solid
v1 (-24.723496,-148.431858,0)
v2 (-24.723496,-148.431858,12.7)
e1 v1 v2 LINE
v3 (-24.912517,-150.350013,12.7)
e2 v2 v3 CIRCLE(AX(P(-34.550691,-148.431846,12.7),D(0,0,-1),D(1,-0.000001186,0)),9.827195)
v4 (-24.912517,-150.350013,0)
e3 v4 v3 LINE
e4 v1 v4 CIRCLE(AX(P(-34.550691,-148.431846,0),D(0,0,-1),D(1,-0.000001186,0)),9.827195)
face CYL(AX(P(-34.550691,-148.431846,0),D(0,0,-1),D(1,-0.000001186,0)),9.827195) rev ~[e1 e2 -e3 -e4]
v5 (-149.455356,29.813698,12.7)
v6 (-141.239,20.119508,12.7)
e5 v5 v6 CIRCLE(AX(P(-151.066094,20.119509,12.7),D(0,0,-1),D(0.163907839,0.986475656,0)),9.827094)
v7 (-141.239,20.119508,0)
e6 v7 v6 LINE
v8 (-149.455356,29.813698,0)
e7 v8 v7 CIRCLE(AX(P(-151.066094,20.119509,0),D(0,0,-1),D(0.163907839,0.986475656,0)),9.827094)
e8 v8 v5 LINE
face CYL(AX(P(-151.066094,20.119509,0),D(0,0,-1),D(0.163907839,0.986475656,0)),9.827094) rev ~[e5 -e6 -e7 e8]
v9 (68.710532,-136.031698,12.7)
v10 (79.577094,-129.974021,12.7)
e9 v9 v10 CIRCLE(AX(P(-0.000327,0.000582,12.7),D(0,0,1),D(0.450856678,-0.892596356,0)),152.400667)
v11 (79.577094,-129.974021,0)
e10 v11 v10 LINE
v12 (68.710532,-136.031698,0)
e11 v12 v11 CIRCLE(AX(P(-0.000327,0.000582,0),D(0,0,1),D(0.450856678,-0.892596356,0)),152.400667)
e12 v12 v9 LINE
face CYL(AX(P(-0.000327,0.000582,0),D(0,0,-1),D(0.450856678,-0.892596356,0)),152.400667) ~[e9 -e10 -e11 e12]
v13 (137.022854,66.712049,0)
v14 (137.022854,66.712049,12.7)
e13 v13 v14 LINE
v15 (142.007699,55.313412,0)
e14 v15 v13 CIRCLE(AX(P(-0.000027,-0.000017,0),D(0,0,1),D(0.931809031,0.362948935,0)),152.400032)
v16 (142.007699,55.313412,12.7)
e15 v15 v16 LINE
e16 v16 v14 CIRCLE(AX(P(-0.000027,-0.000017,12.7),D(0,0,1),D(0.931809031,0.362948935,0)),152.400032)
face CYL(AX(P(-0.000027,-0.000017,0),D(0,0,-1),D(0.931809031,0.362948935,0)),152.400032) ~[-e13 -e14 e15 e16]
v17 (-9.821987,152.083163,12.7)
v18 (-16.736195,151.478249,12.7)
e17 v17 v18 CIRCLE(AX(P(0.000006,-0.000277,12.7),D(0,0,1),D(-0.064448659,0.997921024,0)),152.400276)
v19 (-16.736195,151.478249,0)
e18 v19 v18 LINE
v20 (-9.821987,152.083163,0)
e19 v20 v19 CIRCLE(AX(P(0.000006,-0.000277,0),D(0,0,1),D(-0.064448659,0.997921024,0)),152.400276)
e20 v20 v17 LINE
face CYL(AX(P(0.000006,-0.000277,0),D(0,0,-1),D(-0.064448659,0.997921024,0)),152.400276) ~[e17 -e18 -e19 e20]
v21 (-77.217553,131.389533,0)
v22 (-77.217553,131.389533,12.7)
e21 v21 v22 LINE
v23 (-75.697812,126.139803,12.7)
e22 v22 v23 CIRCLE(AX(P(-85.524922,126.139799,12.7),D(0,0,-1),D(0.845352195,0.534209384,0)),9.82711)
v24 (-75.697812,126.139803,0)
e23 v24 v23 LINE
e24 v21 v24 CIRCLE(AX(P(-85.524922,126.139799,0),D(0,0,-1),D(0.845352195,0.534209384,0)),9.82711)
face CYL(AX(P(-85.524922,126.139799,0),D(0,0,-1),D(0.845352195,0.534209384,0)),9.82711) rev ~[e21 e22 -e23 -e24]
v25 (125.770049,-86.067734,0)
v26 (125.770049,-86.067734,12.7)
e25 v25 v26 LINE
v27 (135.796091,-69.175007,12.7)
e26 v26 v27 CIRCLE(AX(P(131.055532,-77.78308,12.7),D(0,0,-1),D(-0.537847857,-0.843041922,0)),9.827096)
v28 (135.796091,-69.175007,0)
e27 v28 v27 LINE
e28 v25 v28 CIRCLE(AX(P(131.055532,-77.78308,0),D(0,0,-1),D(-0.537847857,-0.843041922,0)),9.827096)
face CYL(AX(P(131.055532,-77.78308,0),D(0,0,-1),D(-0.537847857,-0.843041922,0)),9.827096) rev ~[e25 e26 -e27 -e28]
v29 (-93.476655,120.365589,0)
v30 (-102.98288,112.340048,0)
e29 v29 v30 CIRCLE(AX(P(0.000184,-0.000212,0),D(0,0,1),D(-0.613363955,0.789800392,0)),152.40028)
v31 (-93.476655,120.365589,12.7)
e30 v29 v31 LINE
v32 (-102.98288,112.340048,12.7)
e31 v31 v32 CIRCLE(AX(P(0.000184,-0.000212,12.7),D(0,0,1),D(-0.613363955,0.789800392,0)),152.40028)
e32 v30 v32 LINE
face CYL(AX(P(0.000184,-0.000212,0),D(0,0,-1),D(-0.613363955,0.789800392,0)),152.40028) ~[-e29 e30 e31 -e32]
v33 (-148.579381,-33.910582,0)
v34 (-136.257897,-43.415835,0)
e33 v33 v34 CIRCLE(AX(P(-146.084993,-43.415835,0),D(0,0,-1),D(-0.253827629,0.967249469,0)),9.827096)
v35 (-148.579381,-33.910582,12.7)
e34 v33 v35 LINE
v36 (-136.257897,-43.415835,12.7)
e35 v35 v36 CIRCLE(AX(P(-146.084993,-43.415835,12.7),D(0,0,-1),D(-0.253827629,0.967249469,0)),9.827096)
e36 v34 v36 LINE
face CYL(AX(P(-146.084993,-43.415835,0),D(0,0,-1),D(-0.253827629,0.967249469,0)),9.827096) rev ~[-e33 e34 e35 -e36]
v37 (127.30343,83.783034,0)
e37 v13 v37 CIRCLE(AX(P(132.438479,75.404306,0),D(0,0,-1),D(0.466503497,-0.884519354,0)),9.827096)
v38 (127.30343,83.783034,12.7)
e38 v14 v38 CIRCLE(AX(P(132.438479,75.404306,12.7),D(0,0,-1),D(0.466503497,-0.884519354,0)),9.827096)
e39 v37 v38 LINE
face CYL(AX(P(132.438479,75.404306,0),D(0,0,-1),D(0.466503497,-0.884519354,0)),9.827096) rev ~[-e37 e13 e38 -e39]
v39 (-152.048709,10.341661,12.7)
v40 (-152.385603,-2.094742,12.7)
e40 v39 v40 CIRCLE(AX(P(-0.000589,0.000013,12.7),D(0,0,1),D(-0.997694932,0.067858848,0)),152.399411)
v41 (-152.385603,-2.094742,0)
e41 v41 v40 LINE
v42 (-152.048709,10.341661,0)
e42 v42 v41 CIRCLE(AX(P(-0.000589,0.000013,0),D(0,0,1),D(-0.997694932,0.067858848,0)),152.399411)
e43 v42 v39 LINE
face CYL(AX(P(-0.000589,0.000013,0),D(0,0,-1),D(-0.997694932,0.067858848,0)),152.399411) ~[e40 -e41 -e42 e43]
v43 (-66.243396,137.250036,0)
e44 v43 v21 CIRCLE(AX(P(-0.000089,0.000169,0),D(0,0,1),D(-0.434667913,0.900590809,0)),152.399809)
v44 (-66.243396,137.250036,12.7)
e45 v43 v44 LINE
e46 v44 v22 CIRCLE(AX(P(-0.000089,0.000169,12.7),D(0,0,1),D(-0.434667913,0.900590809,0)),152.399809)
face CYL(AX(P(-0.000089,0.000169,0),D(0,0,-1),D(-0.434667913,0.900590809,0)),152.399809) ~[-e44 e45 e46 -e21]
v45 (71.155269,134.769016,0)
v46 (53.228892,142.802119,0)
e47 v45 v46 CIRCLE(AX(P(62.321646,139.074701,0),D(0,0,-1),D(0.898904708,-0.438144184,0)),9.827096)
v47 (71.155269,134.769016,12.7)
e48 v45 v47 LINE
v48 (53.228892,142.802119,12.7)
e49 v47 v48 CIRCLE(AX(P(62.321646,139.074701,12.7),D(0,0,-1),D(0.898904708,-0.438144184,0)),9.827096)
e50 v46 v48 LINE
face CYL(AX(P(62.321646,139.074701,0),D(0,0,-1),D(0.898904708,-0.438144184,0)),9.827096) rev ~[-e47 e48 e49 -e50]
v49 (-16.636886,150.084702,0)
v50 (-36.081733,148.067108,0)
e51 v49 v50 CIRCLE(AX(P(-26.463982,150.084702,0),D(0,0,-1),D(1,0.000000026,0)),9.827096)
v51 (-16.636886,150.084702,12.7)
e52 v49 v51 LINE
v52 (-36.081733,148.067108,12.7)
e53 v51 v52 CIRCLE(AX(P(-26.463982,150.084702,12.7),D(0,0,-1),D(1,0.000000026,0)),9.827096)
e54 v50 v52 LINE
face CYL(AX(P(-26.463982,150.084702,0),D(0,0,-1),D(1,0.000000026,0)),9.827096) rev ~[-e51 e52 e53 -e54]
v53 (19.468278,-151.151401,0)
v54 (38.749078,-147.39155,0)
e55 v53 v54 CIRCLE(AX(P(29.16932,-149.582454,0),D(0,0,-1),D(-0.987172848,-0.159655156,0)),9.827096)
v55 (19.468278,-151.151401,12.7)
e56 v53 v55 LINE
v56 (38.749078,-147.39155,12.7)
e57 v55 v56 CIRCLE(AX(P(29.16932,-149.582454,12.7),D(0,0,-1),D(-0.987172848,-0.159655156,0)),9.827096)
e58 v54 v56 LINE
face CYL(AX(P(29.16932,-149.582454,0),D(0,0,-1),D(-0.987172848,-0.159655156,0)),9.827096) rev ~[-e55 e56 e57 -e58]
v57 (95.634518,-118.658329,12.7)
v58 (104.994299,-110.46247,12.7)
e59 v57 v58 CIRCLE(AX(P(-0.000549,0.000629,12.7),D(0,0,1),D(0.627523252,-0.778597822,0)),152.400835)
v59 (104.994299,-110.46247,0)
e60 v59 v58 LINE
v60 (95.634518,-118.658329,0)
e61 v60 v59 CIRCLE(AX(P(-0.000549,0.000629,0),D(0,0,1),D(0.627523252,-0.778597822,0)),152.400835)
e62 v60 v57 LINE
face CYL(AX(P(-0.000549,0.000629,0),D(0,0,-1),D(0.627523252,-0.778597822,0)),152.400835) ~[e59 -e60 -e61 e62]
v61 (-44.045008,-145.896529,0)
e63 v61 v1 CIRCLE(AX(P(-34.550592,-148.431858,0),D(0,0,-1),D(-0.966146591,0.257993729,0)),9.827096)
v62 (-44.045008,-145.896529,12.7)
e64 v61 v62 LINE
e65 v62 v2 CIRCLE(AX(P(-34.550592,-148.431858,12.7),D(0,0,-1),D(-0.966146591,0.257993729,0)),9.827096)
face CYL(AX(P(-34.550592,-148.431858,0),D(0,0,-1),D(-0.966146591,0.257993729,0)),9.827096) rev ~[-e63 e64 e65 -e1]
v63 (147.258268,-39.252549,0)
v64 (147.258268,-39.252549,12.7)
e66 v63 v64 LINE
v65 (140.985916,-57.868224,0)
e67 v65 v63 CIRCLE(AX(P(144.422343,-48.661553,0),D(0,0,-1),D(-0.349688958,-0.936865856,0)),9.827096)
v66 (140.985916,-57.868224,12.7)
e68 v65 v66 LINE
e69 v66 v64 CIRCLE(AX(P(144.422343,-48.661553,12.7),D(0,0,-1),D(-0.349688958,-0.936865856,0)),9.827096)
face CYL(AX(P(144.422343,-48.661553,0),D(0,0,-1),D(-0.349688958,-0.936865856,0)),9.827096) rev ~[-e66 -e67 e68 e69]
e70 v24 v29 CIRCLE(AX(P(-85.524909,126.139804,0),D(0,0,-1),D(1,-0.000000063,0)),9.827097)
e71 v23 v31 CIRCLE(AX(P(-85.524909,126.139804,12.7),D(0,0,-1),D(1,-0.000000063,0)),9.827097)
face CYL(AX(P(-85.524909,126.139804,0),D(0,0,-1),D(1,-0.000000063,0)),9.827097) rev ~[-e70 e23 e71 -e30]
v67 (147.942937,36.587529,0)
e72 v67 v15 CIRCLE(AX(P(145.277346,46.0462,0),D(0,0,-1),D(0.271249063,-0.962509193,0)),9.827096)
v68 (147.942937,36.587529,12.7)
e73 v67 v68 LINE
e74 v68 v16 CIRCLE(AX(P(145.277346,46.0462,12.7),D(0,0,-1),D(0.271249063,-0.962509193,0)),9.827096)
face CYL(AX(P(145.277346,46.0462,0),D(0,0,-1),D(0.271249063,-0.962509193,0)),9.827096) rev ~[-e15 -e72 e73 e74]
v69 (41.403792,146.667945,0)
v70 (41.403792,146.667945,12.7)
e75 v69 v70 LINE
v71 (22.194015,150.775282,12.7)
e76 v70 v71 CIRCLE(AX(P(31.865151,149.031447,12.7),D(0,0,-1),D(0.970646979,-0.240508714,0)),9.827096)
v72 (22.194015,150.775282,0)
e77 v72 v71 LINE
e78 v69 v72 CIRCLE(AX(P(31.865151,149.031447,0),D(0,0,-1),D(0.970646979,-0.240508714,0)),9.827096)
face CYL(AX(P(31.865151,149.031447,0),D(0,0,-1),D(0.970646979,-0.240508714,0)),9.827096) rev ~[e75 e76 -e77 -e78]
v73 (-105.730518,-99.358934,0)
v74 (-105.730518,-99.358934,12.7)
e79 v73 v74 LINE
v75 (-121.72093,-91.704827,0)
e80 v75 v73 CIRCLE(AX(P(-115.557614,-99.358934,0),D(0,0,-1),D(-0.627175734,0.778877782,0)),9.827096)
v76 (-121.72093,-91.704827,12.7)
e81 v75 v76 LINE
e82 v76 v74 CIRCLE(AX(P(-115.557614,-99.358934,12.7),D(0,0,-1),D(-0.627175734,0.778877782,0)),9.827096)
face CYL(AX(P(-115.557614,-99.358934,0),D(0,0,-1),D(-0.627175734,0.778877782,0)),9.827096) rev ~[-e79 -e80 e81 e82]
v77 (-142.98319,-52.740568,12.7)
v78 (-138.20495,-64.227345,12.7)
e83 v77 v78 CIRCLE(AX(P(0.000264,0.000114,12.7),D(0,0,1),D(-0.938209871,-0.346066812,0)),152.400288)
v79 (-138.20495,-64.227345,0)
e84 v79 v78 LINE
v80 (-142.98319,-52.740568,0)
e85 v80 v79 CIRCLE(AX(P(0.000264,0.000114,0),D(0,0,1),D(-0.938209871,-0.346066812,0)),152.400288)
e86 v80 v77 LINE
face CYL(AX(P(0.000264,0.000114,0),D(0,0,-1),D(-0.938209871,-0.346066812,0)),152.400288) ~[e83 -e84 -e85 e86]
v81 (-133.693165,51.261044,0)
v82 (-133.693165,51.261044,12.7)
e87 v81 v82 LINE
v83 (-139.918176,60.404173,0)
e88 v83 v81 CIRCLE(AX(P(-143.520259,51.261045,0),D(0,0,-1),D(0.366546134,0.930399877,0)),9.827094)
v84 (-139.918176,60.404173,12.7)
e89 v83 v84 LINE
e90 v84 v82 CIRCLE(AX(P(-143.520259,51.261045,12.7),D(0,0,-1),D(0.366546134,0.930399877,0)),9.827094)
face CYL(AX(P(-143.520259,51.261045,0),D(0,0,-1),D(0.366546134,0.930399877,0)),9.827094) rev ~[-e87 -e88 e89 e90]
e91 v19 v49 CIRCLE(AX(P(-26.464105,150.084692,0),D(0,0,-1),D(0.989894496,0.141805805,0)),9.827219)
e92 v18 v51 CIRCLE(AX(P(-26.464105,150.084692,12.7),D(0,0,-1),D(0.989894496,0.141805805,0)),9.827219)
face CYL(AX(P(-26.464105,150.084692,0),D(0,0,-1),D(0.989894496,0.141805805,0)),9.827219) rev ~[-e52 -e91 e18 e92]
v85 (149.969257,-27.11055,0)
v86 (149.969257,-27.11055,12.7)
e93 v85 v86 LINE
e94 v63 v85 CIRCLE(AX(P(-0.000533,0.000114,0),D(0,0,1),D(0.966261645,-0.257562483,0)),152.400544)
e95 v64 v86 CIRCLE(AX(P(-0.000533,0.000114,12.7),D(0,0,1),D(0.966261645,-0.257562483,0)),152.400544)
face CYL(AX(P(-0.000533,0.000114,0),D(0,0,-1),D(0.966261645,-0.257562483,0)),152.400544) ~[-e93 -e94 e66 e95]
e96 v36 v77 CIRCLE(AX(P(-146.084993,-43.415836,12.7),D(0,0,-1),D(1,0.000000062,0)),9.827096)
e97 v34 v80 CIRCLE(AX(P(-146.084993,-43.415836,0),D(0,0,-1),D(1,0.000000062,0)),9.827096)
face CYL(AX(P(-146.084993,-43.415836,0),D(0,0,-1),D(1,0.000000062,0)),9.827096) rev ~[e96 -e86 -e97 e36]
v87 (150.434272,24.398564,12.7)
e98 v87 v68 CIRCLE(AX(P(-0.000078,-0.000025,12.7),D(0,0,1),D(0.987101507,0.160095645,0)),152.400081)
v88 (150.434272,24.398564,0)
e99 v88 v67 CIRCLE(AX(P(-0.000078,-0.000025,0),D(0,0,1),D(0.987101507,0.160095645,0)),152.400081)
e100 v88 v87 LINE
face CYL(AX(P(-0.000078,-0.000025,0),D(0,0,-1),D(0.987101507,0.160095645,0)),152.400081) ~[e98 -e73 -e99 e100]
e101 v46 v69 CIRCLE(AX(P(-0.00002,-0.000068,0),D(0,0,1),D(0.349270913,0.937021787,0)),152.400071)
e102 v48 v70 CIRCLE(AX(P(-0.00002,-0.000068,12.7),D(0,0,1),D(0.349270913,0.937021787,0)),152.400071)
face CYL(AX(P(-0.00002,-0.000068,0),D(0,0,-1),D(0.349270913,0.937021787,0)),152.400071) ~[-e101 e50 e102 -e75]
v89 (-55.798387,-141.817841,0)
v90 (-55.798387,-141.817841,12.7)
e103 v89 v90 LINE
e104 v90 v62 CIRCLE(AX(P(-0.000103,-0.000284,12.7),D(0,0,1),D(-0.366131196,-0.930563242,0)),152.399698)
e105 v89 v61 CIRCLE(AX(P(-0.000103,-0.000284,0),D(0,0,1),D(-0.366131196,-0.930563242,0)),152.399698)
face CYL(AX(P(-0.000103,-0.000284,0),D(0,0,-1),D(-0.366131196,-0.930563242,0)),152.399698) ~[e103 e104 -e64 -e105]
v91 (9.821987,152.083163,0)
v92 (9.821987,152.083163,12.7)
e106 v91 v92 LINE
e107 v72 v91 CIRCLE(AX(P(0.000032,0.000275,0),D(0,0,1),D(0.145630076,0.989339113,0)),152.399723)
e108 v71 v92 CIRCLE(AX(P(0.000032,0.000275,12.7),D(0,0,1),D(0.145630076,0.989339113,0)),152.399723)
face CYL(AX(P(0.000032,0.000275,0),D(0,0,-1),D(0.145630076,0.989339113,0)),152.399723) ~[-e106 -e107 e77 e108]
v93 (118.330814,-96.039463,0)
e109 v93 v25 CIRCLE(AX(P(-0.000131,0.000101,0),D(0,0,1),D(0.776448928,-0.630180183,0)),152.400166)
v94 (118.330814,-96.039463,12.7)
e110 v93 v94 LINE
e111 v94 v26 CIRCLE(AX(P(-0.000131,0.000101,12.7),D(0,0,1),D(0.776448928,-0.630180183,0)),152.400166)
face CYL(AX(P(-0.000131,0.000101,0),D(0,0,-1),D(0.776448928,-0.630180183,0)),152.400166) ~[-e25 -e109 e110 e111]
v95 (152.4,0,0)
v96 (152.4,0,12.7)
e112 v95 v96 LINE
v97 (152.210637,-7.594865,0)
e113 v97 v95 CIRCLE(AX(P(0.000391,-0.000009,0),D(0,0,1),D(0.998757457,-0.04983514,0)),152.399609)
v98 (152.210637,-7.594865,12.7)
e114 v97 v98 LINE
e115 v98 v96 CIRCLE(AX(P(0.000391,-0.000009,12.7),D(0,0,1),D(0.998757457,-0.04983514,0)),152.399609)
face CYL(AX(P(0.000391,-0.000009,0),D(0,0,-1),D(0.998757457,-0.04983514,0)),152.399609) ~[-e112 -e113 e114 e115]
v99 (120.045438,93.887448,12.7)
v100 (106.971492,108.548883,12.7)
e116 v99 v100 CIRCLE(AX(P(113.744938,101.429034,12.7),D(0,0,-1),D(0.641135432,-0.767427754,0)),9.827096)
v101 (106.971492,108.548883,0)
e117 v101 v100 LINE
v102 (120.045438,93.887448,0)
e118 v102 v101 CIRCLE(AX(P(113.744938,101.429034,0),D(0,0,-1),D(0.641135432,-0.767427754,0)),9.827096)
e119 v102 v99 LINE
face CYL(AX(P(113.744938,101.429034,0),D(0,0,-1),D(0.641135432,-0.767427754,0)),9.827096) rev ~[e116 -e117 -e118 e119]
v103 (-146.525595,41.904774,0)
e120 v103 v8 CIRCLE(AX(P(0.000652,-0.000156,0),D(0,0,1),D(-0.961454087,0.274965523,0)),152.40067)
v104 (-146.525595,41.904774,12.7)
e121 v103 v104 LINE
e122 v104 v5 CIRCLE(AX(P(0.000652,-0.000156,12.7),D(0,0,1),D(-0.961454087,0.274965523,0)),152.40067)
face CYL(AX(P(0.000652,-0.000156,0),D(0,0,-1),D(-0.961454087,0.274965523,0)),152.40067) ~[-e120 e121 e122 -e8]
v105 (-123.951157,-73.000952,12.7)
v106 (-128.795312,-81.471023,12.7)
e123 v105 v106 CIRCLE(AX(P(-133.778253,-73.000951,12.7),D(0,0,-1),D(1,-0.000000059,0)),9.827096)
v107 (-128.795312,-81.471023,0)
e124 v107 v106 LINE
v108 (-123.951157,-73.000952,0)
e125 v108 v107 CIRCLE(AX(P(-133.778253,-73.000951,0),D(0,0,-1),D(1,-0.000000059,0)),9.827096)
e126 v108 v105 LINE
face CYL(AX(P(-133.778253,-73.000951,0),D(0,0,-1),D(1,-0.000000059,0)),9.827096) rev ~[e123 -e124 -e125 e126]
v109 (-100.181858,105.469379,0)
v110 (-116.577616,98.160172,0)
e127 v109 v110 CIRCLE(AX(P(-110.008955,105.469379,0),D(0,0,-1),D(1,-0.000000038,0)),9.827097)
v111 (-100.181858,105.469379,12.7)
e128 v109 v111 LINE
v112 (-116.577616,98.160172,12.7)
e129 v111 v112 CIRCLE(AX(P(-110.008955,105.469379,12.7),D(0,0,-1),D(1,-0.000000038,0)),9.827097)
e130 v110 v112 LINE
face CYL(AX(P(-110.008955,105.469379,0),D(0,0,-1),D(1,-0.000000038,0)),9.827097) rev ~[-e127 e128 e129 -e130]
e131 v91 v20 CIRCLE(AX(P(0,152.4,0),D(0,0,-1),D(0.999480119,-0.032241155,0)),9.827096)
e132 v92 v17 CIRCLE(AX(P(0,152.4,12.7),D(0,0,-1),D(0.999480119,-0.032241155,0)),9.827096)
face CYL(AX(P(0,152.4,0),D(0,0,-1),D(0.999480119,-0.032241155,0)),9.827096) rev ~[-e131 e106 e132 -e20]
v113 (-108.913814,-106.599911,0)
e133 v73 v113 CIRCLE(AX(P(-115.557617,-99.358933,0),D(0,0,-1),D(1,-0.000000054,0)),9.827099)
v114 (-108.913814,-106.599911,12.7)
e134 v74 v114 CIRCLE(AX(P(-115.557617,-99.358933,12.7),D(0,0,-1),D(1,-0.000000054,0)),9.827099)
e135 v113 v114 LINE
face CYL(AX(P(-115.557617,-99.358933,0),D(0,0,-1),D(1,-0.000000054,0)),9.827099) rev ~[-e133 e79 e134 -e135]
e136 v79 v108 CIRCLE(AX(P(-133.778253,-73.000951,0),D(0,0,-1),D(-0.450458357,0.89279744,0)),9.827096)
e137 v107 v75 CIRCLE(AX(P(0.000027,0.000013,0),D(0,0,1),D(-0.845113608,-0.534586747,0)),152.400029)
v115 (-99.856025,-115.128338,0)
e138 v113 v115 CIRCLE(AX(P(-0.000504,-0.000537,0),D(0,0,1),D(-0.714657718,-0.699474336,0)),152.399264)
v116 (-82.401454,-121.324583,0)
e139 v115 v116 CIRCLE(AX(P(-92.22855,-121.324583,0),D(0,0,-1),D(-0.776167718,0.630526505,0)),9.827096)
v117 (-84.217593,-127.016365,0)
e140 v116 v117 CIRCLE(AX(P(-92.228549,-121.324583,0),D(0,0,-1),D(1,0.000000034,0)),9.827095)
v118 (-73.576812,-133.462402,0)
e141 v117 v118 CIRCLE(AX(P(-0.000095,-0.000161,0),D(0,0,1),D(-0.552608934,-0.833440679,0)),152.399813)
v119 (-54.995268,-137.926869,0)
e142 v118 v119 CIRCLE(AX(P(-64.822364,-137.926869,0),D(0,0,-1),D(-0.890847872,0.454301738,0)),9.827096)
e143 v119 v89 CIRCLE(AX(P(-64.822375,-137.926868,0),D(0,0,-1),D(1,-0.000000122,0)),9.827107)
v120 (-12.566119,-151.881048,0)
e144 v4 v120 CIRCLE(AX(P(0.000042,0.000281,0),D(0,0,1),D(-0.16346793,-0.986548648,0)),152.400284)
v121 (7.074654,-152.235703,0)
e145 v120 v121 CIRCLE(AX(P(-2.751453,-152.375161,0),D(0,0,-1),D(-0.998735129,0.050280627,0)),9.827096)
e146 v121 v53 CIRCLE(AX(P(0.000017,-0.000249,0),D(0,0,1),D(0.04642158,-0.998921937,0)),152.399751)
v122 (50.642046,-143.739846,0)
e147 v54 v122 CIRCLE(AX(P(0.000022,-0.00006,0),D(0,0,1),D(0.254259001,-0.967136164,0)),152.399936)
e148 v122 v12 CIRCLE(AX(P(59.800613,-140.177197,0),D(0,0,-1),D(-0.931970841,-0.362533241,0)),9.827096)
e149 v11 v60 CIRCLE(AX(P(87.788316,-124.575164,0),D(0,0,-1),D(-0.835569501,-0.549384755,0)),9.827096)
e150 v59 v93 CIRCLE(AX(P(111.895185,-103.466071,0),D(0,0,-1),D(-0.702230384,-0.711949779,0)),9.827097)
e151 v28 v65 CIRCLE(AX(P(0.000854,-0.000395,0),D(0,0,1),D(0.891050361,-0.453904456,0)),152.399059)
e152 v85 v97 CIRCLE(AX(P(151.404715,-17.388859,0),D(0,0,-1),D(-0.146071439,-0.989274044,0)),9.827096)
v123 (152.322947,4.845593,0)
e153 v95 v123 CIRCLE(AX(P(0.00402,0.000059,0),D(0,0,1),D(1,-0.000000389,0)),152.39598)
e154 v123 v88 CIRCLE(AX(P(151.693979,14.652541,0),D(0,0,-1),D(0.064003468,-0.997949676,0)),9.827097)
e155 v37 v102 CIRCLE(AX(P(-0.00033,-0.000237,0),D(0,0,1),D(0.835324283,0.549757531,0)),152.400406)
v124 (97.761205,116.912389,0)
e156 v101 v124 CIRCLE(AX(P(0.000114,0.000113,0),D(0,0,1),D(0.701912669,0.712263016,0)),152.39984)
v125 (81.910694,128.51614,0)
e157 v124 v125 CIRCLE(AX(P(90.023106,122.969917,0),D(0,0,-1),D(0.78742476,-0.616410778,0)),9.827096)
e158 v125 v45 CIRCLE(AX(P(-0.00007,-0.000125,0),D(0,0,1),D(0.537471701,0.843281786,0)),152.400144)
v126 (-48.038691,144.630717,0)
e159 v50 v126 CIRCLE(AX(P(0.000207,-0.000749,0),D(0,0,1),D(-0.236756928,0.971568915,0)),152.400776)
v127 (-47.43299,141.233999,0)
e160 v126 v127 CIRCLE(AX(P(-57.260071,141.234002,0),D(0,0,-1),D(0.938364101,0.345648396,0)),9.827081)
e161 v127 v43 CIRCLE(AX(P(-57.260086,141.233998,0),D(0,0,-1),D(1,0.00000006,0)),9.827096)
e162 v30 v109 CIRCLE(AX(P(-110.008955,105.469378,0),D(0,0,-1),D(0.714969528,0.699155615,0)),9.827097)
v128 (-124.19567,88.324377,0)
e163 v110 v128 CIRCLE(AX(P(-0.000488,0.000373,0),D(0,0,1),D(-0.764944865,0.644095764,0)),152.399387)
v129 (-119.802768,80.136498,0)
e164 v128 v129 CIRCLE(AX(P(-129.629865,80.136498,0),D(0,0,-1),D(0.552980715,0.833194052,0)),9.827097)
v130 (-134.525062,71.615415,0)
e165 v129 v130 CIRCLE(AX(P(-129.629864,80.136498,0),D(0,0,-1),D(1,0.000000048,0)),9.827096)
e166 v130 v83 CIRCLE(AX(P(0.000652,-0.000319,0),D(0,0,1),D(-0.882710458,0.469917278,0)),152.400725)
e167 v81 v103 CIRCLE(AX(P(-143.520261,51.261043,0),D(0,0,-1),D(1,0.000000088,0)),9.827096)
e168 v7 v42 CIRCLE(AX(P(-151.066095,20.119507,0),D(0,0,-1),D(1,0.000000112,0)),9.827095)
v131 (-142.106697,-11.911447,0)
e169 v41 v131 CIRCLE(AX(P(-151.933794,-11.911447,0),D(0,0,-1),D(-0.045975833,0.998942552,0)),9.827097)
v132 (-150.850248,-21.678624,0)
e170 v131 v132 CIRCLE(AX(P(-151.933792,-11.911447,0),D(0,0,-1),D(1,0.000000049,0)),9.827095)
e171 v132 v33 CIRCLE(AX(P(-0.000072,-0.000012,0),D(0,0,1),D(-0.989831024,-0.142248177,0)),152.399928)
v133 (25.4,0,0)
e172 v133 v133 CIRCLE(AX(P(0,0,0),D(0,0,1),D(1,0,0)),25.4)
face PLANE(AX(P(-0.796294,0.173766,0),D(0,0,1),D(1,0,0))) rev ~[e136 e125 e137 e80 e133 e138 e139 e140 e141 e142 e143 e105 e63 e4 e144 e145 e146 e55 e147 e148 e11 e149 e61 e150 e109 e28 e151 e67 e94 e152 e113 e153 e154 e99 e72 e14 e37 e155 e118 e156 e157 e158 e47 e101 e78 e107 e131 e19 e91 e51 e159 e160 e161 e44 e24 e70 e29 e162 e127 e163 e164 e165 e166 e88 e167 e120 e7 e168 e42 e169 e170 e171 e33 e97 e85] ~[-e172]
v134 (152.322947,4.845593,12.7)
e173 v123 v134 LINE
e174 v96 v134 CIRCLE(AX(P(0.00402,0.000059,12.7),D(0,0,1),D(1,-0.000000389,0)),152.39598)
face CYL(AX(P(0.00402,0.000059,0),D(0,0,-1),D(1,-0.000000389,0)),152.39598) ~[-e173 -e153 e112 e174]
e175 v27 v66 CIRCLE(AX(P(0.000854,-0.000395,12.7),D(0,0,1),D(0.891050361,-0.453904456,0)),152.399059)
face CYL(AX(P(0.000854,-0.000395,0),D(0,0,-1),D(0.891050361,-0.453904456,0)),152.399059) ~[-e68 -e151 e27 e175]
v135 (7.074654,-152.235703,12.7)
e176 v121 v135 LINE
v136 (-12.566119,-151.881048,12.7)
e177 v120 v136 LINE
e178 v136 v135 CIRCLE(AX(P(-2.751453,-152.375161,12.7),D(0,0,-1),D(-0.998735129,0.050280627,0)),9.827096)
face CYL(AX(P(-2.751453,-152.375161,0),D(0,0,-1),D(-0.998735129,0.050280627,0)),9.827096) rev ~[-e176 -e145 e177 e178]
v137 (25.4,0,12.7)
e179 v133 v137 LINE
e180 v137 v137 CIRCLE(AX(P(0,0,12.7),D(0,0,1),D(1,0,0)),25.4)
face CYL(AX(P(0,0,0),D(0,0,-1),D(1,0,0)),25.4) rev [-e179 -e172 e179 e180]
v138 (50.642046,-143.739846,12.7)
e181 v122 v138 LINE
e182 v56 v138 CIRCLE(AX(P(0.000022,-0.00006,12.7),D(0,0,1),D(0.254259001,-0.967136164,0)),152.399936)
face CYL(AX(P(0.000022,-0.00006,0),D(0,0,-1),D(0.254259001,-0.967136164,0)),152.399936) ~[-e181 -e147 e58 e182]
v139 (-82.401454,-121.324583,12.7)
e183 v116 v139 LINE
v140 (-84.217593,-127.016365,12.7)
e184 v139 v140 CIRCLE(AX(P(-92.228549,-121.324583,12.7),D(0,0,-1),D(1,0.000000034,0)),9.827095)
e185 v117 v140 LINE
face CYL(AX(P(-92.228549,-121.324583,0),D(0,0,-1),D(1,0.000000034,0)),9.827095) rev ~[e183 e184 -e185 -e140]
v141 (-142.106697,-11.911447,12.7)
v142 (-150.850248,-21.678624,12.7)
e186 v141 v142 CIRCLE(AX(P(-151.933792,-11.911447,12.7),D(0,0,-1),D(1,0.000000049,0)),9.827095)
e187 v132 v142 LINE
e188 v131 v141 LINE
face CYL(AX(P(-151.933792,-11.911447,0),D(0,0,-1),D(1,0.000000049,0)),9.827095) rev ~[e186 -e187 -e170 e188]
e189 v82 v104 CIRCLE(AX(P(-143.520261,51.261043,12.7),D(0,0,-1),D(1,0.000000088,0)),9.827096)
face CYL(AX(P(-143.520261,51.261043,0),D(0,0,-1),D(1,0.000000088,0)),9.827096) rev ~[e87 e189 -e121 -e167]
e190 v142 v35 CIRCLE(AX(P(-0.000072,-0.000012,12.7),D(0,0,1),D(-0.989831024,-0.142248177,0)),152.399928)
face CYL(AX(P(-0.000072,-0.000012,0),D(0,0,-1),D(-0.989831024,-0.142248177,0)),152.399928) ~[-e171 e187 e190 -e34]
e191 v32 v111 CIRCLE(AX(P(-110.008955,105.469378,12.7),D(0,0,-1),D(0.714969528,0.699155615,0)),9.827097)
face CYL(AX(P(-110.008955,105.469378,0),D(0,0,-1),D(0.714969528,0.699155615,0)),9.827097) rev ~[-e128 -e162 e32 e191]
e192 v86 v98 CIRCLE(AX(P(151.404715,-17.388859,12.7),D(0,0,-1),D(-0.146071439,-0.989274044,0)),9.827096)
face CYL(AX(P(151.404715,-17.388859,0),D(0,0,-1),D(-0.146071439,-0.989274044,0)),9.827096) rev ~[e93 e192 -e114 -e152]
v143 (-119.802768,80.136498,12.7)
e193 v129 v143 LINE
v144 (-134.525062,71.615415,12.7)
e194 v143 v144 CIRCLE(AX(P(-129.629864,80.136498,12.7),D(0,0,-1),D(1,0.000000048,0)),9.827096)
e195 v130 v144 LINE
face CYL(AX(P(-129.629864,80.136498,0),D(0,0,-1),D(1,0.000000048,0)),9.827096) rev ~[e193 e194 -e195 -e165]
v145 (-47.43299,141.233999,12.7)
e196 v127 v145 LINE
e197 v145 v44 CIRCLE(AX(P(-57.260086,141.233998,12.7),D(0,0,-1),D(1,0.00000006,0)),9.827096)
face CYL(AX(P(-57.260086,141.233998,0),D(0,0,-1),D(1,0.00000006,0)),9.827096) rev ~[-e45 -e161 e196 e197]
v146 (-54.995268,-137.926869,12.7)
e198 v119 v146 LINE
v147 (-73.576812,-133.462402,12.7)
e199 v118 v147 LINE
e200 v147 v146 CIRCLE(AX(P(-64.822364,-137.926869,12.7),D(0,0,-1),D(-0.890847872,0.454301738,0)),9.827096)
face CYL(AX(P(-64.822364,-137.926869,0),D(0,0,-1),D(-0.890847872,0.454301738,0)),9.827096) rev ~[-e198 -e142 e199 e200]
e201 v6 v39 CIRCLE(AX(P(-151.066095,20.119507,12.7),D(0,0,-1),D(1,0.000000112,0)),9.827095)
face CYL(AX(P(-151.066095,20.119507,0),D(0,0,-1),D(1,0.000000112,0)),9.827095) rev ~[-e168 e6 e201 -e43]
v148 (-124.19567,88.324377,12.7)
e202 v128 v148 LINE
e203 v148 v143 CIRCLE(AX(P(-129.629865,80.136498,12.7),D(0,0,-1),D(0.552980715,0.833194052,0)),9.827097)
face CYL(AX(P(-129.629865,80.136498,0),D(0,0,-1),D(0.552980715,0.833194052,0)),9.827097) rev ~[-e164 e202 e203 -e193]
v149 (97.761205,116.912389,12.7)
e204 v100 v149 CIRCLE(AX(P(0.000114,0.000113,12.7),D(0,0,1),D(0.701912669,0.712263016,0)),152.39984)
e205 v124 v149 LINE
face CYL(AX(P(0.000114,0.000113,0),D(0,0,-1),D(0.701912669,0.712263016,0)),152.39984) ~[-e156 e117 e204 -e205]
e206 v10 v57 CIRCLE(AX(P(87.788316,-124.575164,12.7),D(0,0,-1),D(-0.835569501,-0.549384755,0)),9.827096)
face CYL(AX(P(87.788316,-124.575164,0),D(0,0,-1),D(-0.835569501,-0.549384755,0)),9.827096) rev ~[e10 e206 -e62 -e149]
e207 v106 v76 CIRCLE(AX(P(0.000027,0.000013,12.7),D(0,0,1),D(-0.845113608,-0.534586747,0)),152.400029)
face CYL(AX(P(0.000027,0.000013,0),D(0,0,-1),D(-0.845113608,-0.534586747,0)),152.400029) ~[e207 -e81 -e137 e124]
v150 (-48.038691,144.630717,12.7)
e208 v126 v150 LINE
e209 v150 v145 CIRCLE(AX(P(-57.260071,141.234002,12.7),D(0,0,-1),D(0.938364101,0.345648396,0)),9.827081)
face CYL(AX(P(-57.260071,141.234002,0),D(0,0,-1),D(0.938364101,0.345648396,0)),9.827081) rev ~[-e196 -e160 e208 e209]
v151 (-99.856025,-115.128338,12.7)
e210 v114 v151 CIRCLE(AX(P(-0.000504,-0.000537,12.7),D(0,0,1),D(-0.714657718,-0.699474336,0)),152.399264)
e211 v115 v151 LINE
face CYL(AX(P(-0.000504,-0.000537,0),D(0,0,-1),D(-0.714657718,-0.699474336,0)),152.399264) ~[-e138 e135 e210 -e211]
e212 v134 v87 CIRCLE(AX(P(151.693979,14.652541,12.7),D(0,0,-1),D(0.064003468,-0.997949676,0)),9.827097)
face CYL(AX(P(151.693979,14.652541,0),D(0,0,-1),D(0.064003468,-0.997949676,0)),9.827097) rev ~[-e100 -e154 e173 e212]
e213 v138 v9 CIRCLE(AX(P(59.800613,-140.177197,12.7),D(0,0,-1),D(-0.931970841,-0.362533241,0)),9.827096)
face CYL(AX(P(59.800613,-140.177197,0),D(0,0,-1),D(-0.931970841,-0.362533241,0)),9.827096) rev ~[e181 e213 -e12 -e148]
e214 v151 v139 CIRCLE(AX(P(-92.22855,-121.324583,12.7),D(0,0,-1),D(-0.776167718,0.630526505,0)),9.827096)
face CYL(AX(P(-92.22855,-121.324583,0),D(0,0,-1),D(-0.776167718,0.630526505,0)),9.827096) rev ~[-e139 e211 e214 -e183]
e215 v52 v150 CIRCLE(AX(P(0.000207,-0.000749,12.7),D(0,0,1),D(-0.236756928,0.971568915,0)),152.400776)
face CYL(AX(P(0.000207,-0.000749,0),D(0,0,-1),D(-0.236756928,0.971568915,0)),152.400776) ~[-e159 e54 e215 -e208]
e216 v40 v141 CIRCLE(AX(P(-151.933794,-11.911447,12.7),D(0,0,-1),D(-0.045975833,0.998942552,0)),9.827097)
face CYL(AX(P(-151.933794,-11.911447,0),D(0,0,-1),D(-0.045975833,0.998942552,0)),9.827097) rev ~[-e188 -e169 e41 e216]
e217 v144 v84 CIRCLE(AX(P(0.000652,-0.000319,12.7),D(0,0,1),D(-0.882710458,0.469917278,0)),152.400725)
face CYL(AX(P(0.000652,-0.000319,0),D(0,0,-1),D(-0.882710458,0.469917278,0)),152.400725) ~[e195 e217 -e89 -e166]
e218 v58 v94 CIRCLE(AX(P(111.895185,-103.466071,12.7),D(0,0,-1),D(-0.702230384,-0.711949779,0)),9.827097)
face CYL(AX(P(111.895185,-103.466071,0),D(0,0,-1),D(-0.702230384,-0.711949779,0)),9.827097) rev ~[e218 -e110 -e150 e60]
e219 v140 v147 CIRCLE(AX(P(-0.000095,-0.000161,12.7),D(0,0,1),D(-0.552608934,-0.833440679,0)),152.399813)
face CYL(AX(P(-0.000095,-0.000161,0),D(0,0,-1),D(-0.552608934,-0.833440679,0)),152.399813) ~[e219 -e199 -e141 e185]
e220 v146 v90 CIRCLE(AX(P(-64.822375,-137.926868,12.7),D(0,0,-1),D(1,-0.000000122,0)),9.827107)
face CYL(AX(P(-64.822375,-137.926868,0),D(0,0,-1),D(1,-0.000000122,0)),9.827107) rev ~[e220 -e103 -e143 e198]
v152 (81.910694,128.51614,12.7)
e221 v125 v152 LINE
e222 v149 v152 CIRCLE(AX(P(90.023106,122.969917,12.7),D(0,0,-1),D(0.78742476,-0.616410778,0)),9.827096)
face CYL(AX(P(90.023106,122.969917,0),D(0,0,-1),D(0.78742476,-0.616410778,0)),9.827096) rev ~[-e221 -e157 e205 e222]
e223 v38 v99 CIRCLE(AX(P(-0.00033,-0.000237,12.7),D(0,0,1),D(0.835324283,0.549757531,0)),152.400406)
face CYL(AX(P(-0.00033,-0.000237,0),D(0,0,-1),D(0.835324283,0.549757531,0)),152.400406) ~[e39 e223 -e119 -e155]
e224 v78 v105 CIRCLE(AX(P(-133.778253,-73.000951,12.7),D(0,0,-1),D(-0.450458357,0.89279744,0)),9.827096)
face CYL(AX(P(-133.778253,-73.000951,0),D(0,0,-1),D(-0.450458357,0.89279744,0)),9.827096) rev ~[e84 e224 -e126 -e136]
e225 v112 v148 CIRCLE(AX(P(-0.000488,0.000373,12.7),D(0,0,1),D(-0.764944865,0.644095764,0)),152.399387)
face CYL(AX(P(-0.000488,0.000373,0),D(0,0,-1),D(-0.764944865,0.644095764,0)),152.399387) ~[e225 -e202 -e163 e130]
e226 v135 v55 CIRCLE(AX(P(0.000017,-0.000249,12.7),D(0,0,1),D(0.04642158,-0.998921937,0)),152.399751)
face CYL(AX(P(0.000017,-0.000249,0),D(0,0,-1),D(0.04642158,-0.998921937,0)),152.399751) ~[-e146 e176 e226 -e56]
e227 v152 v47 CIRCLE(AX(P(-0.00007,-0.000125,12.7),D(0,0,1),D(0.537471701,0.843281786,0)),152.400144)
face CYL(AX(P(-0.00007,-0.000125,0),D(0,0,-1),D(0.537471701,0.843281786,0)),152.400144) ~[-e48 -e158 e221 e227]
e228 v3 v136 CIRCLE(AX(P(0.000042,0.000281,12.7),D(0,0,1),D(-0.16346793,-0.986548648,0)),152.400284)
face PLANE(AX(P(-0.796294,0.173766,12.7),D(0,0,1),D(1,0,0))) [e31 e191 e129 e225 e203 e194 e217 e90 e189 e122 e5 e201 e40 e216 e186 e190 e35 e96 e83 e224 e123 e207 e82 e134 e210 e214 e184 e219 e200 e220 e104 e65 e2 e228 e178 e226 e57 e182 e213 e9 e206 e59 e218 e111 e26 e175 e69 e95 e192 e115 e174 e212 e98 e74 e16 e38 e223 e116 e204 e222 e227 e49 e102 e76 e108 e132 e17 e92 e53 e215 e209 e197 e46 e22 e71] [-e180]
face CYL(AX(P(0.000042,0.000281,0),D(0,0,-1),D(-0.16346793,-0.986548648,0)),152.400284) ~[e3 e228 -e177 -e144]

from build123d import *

# Parameters (mm, degrees)
F0_R     = 25.4
F1_DEPTH = 12.7


with BuildPart() as f1:
    # F0 (on Top) → F1 (new body)
    with BuildSketch(Plane.XY):
        with BuildLine():
            ThreePointArc((152.210637, -7.594865), (152.352652, -3.798613), (152.4, 0))
            ThreePointArc((152.4, 0), (152.380736, 2.423103), (152.322947, 4.845593))
            ThreePointArc((152.322947, 4.845593), (141.912408, 13.707712), (150.434272, 24.398564))
            ThreePointArc((150.434272, 24.398564), (149.313035, 30.518479), (147.942937, 36.587529))
            ThreePointArc((147.942937, 36.587529), (135.909535, 43.077036), (142.007699, 55.313412))
            ThreePointArc((142.007699, 55.313412), (139.631639, 61.063618), (137.022854, 66.712049))
            ThreePointArc((137.022854, 66.712049), (123.898547, 70.542066), (127.30343, 83.783034))
            ThreePointArc((127.30343, 83.783034), (123.777584, 88.909334), (120.045438, 93.887448))
            ThreePointArc((120.045438, 93.887448), (106.410408, 94.888661), (106.971492, 108.548883))
            ThreePointArc((106.971492, 108.548883), (102.451727, 112.824659), (97.761205, 116.912389))
            ThreePointArc((97.761205, 116.912389), (84.218213, 115.040539), (81.910694, 128.51614))
            ThreePointArc((81.910694, 128.51614), (76.596814, 131.752374), (71.155269, 134.769016))
            ThreePointArc((71.155269, 134.769016), (58.303006, 130.10685), (53.228892, 142.802119))
            ThreePointArc((53.228892, 142.802119), (47.355806, 144.855748), (41.403792, 146.667945))
            ThreePointArc((41.403792, 146.667945), (29.810413, 139.421563), (22.194015, 150.775282))
            ThreePointArc((22.194015, 150.775282), (16.021353, 151.555522), (9.821987, 152.083163))
            ThreePointArc((9.821987, 152.083163), (0, 142.572904), (-9.821987, 152.083163))
            ThreePointArc((-9.821987, 152.083163), (-13.282535, 151.820072), (-16.736195, 151.478249))
            ThreePointArc((-16.736195, 151.478249), (-16.661745, 150.783242), (-16.636886, 150.084702))
            ThreePointArc((-16.636886, 150.084702), (-25.44977, 140.310082), (-36.081733, 148.067108))
            ThreePointArc((-36.081733, 148.067108), (-42.095292, 146.470974), (-48.038691, 144.630717))
            ThreePointArc((-48.038691, 144.630717), (-47.5856, 142.959149), (-47.43299, 141.233999))
            ThreePointArc((-47.43299, 141.233999), (-55.223917, 131.620163), (-66.243396, 137.250036))
            ThreePointArc((-66.243396, 137.250036), (-71.790301, 134.431814), (-77.217553, 131.389533))
            ThreePointArc((-77.217553, 131.389533), (-76.085391, 128.872443), (-75.697812, 126.139803))
            ThreePointArc((-75.697812, 126.139803), (-82.489349, 116.793296), (-93.476655, 120.365589))
            ThreePointArc((-93.476655, 120.365589), (-98.311696, 116.449862), (-102.98288, 112.340048))
            ThreePointArc((-102.98288, 112.340048), (-100.909017, 109.179225), (-100.181858, 105.469379))
            ThreePointArc((-100.181858, 105.469379), (-106.007645, 96.493782), (-116.577616, 98.160172))
            ThreePointArc((-116.577616, 98.160172), (-120.487052, 93.320043), (-124.19567, 88.324377))
            ThreePointArc((-124.19567, 88.324377), (-120.970356, 84.782436), (-119.802768, 80.136498))
            ThreePointArc((-119.802768, 80.136498), (-124.707149, 71.631282), (-134.525062, 71.615415))
            ThreePointArc((-134.525062, 71.615415), (-137.336068, 66.064849), (-139.918176, 60.404173))
            ThreePointArc((-139.918176, 60.404173), (-135.39715, 56.791586), (-133.693165, 51.261044))
            ThreePointArc((-133.693165, 51.261044), (-137.730696, 43.320467), (-146.525595, 41.904774))
            ThreePointArc((-146.525595, 41.904774), (-148.113906, 35.889145), (-149.455356, 29.813698))
            ThreePointArc((-149.455356, 29.813698), (-143.569406, 26.473362), (-141.239, 20.119508))
            ThreePointArc((-141.239, 20.119508), (-144.473844, 12.83157), (-152.048709, 10.341661))
            ThreePointArc((-152.048709, 10.341661), (-152.344113, 4.126898), (-152.385603, -2.094742))
            ThreePointArc((-152.385603, -2.094742), (-145.146605, -4.804697), (-142.106697, -11.911447))
            ThreePointArc((-142.106697, -11.911447), (-144.611911, -18.465977), (-150.850248, -21.678624))
            ThreePointArc((-150.850248, -21.678624), (-149.839684, -27.817785), (-148.579381, -33.910582))
            ThreePointArc((-148.579381, -33.910582), (-140.082526, -35.634948), (-136.257897, -43.415835))
            ThreePointArc((-136.257897, -43.415835), (-138.114625, -49.164318), (-142.98319, -52.740568))
            ThreePointArc((-142.98319, -52.740568), (-140.711332, -58.532735), (-138.20495, -64.227345))
            ThreePointArc((-138.20495, -64.227345), (-128.627028, -64.632158), (-123.951157, -73.000952))
            ThreePointArc((-123.951157, -73.000952), (-125.24773, -77.87968), (-128.795312, -81.471023))
            ThreePointArc((-128.795312, -81.471023), (-125.362592, -86.660144), (-121.72093, -91.704827))
            ThreePointArc((-121.72093, -91.704827), (-111.314719, -90.494981), (-105.730518, -99.358934))
            ThreePointArc((-105.730518, -99.358934), (-106.561474, -103.31384), (-108.913814, -106.599911))
            ThreePointArc((-108.913814, -106.599911), (-104.471982, -110.956591), (-99.856025, -115.128338))
            ThreePointArc((-99.856025, -115.128338), (-88.941006, -112.063704), (-82.401454, -121.324583))
            ThreePointArc((-82.401454, -121.324583), (-82.866492, -124.311837), (-84.217593, -127.016365))
            ThreePointArc((-84.217593, -127.016365), (-78.963006, -130.34801), (-73.576812, -133.462402))
            ThreePointArc((-73.576812, -133.462402), (-62.526605, -128.371697), (-54.995268, -137.926869))
            ThreePointArc((-54.995268, -137.926869), (-55.198142, -139.913365), (-55.798387, -141.817841))
            ThreePointArc((-55.798387, -141.817841), (-49.963335, -143.977169), (-44.045008, -145.896529))
            ThreePointArc((-44.045008, -145.896529), (-33.272061, -138.688287), (-24.723496, -148.431858))
            ThreePointArc((-24.723496, -148.431858), (-24.770866, -149.395581), (-24.912517, -150.350013))
            ThreePointArc((-24.912517, -150.350013), (-18.754947, -151.241568), (-12.566119, -151.881048))
            ThreePointArc((-12.566119, -151.881048), (-2.574032, -142.549666), (7.074654, -152.235703))
            ThreePointArc((7.074654, -152.235703), (13.282535, -151.820072), (19.468278, -151.151401))
            ThreePointArc((19.468278, -151.151401), (27.288417, -139.93704), (38.749078, -147.39155))
            ThreePointArc((38.749078, -147.39155), (44.73284, -145.687107), (50.642046, -143.739846))
            ThreePointArc((50.642046, -143.739846), (55.944534, -131.138255), (68.710532, -136.031698))
            ThreePointArc((68.710532, -136.031698), (74.205652, -133.11379), (79.577094, -129.974021))
            ThreePointArc((79.577094, -129.974021), (82.127527, -116.542276), (95.634518, -118.658329))
            ThreePointArc((95.634518, -118.658329), (100.398075, -114.655948), (104.994299, -110.46247))
            ThreePointArc((104.994299, -110.46247), (104.67993, -96.794345), (118.330814, -96.039463))
            ThreePointArc((118.330814, -96.039463), (122.152227, -91.129542), (125.770049, -86.067734))
            ThreePointArc((125.770049, -86.067734), (122.604775, -72.767451), (135.796091, -69.175007))
            ThreePointArc((135.796091, -69.175007), (138.506429, -63.574596), (140.985916, -57.868224))
            ThreePointArc((140.985916, -57.868224), (135.109664, -45.523746), (147.258268, -39.252549))
            ThreePointArc((147.258268, -39.252549), (148.737713, -33.209225), (149.969257, -27.11055))
            ThreePointArc((149.969257, -27.11055), (141.641797, -16.267586), (152.210637, -7.594865))
        make_face()
        Circle(F0_R, mode=Mode.SUBTRACT)
    extrude(amount=F1_DEPTH)


solid = f1.part
